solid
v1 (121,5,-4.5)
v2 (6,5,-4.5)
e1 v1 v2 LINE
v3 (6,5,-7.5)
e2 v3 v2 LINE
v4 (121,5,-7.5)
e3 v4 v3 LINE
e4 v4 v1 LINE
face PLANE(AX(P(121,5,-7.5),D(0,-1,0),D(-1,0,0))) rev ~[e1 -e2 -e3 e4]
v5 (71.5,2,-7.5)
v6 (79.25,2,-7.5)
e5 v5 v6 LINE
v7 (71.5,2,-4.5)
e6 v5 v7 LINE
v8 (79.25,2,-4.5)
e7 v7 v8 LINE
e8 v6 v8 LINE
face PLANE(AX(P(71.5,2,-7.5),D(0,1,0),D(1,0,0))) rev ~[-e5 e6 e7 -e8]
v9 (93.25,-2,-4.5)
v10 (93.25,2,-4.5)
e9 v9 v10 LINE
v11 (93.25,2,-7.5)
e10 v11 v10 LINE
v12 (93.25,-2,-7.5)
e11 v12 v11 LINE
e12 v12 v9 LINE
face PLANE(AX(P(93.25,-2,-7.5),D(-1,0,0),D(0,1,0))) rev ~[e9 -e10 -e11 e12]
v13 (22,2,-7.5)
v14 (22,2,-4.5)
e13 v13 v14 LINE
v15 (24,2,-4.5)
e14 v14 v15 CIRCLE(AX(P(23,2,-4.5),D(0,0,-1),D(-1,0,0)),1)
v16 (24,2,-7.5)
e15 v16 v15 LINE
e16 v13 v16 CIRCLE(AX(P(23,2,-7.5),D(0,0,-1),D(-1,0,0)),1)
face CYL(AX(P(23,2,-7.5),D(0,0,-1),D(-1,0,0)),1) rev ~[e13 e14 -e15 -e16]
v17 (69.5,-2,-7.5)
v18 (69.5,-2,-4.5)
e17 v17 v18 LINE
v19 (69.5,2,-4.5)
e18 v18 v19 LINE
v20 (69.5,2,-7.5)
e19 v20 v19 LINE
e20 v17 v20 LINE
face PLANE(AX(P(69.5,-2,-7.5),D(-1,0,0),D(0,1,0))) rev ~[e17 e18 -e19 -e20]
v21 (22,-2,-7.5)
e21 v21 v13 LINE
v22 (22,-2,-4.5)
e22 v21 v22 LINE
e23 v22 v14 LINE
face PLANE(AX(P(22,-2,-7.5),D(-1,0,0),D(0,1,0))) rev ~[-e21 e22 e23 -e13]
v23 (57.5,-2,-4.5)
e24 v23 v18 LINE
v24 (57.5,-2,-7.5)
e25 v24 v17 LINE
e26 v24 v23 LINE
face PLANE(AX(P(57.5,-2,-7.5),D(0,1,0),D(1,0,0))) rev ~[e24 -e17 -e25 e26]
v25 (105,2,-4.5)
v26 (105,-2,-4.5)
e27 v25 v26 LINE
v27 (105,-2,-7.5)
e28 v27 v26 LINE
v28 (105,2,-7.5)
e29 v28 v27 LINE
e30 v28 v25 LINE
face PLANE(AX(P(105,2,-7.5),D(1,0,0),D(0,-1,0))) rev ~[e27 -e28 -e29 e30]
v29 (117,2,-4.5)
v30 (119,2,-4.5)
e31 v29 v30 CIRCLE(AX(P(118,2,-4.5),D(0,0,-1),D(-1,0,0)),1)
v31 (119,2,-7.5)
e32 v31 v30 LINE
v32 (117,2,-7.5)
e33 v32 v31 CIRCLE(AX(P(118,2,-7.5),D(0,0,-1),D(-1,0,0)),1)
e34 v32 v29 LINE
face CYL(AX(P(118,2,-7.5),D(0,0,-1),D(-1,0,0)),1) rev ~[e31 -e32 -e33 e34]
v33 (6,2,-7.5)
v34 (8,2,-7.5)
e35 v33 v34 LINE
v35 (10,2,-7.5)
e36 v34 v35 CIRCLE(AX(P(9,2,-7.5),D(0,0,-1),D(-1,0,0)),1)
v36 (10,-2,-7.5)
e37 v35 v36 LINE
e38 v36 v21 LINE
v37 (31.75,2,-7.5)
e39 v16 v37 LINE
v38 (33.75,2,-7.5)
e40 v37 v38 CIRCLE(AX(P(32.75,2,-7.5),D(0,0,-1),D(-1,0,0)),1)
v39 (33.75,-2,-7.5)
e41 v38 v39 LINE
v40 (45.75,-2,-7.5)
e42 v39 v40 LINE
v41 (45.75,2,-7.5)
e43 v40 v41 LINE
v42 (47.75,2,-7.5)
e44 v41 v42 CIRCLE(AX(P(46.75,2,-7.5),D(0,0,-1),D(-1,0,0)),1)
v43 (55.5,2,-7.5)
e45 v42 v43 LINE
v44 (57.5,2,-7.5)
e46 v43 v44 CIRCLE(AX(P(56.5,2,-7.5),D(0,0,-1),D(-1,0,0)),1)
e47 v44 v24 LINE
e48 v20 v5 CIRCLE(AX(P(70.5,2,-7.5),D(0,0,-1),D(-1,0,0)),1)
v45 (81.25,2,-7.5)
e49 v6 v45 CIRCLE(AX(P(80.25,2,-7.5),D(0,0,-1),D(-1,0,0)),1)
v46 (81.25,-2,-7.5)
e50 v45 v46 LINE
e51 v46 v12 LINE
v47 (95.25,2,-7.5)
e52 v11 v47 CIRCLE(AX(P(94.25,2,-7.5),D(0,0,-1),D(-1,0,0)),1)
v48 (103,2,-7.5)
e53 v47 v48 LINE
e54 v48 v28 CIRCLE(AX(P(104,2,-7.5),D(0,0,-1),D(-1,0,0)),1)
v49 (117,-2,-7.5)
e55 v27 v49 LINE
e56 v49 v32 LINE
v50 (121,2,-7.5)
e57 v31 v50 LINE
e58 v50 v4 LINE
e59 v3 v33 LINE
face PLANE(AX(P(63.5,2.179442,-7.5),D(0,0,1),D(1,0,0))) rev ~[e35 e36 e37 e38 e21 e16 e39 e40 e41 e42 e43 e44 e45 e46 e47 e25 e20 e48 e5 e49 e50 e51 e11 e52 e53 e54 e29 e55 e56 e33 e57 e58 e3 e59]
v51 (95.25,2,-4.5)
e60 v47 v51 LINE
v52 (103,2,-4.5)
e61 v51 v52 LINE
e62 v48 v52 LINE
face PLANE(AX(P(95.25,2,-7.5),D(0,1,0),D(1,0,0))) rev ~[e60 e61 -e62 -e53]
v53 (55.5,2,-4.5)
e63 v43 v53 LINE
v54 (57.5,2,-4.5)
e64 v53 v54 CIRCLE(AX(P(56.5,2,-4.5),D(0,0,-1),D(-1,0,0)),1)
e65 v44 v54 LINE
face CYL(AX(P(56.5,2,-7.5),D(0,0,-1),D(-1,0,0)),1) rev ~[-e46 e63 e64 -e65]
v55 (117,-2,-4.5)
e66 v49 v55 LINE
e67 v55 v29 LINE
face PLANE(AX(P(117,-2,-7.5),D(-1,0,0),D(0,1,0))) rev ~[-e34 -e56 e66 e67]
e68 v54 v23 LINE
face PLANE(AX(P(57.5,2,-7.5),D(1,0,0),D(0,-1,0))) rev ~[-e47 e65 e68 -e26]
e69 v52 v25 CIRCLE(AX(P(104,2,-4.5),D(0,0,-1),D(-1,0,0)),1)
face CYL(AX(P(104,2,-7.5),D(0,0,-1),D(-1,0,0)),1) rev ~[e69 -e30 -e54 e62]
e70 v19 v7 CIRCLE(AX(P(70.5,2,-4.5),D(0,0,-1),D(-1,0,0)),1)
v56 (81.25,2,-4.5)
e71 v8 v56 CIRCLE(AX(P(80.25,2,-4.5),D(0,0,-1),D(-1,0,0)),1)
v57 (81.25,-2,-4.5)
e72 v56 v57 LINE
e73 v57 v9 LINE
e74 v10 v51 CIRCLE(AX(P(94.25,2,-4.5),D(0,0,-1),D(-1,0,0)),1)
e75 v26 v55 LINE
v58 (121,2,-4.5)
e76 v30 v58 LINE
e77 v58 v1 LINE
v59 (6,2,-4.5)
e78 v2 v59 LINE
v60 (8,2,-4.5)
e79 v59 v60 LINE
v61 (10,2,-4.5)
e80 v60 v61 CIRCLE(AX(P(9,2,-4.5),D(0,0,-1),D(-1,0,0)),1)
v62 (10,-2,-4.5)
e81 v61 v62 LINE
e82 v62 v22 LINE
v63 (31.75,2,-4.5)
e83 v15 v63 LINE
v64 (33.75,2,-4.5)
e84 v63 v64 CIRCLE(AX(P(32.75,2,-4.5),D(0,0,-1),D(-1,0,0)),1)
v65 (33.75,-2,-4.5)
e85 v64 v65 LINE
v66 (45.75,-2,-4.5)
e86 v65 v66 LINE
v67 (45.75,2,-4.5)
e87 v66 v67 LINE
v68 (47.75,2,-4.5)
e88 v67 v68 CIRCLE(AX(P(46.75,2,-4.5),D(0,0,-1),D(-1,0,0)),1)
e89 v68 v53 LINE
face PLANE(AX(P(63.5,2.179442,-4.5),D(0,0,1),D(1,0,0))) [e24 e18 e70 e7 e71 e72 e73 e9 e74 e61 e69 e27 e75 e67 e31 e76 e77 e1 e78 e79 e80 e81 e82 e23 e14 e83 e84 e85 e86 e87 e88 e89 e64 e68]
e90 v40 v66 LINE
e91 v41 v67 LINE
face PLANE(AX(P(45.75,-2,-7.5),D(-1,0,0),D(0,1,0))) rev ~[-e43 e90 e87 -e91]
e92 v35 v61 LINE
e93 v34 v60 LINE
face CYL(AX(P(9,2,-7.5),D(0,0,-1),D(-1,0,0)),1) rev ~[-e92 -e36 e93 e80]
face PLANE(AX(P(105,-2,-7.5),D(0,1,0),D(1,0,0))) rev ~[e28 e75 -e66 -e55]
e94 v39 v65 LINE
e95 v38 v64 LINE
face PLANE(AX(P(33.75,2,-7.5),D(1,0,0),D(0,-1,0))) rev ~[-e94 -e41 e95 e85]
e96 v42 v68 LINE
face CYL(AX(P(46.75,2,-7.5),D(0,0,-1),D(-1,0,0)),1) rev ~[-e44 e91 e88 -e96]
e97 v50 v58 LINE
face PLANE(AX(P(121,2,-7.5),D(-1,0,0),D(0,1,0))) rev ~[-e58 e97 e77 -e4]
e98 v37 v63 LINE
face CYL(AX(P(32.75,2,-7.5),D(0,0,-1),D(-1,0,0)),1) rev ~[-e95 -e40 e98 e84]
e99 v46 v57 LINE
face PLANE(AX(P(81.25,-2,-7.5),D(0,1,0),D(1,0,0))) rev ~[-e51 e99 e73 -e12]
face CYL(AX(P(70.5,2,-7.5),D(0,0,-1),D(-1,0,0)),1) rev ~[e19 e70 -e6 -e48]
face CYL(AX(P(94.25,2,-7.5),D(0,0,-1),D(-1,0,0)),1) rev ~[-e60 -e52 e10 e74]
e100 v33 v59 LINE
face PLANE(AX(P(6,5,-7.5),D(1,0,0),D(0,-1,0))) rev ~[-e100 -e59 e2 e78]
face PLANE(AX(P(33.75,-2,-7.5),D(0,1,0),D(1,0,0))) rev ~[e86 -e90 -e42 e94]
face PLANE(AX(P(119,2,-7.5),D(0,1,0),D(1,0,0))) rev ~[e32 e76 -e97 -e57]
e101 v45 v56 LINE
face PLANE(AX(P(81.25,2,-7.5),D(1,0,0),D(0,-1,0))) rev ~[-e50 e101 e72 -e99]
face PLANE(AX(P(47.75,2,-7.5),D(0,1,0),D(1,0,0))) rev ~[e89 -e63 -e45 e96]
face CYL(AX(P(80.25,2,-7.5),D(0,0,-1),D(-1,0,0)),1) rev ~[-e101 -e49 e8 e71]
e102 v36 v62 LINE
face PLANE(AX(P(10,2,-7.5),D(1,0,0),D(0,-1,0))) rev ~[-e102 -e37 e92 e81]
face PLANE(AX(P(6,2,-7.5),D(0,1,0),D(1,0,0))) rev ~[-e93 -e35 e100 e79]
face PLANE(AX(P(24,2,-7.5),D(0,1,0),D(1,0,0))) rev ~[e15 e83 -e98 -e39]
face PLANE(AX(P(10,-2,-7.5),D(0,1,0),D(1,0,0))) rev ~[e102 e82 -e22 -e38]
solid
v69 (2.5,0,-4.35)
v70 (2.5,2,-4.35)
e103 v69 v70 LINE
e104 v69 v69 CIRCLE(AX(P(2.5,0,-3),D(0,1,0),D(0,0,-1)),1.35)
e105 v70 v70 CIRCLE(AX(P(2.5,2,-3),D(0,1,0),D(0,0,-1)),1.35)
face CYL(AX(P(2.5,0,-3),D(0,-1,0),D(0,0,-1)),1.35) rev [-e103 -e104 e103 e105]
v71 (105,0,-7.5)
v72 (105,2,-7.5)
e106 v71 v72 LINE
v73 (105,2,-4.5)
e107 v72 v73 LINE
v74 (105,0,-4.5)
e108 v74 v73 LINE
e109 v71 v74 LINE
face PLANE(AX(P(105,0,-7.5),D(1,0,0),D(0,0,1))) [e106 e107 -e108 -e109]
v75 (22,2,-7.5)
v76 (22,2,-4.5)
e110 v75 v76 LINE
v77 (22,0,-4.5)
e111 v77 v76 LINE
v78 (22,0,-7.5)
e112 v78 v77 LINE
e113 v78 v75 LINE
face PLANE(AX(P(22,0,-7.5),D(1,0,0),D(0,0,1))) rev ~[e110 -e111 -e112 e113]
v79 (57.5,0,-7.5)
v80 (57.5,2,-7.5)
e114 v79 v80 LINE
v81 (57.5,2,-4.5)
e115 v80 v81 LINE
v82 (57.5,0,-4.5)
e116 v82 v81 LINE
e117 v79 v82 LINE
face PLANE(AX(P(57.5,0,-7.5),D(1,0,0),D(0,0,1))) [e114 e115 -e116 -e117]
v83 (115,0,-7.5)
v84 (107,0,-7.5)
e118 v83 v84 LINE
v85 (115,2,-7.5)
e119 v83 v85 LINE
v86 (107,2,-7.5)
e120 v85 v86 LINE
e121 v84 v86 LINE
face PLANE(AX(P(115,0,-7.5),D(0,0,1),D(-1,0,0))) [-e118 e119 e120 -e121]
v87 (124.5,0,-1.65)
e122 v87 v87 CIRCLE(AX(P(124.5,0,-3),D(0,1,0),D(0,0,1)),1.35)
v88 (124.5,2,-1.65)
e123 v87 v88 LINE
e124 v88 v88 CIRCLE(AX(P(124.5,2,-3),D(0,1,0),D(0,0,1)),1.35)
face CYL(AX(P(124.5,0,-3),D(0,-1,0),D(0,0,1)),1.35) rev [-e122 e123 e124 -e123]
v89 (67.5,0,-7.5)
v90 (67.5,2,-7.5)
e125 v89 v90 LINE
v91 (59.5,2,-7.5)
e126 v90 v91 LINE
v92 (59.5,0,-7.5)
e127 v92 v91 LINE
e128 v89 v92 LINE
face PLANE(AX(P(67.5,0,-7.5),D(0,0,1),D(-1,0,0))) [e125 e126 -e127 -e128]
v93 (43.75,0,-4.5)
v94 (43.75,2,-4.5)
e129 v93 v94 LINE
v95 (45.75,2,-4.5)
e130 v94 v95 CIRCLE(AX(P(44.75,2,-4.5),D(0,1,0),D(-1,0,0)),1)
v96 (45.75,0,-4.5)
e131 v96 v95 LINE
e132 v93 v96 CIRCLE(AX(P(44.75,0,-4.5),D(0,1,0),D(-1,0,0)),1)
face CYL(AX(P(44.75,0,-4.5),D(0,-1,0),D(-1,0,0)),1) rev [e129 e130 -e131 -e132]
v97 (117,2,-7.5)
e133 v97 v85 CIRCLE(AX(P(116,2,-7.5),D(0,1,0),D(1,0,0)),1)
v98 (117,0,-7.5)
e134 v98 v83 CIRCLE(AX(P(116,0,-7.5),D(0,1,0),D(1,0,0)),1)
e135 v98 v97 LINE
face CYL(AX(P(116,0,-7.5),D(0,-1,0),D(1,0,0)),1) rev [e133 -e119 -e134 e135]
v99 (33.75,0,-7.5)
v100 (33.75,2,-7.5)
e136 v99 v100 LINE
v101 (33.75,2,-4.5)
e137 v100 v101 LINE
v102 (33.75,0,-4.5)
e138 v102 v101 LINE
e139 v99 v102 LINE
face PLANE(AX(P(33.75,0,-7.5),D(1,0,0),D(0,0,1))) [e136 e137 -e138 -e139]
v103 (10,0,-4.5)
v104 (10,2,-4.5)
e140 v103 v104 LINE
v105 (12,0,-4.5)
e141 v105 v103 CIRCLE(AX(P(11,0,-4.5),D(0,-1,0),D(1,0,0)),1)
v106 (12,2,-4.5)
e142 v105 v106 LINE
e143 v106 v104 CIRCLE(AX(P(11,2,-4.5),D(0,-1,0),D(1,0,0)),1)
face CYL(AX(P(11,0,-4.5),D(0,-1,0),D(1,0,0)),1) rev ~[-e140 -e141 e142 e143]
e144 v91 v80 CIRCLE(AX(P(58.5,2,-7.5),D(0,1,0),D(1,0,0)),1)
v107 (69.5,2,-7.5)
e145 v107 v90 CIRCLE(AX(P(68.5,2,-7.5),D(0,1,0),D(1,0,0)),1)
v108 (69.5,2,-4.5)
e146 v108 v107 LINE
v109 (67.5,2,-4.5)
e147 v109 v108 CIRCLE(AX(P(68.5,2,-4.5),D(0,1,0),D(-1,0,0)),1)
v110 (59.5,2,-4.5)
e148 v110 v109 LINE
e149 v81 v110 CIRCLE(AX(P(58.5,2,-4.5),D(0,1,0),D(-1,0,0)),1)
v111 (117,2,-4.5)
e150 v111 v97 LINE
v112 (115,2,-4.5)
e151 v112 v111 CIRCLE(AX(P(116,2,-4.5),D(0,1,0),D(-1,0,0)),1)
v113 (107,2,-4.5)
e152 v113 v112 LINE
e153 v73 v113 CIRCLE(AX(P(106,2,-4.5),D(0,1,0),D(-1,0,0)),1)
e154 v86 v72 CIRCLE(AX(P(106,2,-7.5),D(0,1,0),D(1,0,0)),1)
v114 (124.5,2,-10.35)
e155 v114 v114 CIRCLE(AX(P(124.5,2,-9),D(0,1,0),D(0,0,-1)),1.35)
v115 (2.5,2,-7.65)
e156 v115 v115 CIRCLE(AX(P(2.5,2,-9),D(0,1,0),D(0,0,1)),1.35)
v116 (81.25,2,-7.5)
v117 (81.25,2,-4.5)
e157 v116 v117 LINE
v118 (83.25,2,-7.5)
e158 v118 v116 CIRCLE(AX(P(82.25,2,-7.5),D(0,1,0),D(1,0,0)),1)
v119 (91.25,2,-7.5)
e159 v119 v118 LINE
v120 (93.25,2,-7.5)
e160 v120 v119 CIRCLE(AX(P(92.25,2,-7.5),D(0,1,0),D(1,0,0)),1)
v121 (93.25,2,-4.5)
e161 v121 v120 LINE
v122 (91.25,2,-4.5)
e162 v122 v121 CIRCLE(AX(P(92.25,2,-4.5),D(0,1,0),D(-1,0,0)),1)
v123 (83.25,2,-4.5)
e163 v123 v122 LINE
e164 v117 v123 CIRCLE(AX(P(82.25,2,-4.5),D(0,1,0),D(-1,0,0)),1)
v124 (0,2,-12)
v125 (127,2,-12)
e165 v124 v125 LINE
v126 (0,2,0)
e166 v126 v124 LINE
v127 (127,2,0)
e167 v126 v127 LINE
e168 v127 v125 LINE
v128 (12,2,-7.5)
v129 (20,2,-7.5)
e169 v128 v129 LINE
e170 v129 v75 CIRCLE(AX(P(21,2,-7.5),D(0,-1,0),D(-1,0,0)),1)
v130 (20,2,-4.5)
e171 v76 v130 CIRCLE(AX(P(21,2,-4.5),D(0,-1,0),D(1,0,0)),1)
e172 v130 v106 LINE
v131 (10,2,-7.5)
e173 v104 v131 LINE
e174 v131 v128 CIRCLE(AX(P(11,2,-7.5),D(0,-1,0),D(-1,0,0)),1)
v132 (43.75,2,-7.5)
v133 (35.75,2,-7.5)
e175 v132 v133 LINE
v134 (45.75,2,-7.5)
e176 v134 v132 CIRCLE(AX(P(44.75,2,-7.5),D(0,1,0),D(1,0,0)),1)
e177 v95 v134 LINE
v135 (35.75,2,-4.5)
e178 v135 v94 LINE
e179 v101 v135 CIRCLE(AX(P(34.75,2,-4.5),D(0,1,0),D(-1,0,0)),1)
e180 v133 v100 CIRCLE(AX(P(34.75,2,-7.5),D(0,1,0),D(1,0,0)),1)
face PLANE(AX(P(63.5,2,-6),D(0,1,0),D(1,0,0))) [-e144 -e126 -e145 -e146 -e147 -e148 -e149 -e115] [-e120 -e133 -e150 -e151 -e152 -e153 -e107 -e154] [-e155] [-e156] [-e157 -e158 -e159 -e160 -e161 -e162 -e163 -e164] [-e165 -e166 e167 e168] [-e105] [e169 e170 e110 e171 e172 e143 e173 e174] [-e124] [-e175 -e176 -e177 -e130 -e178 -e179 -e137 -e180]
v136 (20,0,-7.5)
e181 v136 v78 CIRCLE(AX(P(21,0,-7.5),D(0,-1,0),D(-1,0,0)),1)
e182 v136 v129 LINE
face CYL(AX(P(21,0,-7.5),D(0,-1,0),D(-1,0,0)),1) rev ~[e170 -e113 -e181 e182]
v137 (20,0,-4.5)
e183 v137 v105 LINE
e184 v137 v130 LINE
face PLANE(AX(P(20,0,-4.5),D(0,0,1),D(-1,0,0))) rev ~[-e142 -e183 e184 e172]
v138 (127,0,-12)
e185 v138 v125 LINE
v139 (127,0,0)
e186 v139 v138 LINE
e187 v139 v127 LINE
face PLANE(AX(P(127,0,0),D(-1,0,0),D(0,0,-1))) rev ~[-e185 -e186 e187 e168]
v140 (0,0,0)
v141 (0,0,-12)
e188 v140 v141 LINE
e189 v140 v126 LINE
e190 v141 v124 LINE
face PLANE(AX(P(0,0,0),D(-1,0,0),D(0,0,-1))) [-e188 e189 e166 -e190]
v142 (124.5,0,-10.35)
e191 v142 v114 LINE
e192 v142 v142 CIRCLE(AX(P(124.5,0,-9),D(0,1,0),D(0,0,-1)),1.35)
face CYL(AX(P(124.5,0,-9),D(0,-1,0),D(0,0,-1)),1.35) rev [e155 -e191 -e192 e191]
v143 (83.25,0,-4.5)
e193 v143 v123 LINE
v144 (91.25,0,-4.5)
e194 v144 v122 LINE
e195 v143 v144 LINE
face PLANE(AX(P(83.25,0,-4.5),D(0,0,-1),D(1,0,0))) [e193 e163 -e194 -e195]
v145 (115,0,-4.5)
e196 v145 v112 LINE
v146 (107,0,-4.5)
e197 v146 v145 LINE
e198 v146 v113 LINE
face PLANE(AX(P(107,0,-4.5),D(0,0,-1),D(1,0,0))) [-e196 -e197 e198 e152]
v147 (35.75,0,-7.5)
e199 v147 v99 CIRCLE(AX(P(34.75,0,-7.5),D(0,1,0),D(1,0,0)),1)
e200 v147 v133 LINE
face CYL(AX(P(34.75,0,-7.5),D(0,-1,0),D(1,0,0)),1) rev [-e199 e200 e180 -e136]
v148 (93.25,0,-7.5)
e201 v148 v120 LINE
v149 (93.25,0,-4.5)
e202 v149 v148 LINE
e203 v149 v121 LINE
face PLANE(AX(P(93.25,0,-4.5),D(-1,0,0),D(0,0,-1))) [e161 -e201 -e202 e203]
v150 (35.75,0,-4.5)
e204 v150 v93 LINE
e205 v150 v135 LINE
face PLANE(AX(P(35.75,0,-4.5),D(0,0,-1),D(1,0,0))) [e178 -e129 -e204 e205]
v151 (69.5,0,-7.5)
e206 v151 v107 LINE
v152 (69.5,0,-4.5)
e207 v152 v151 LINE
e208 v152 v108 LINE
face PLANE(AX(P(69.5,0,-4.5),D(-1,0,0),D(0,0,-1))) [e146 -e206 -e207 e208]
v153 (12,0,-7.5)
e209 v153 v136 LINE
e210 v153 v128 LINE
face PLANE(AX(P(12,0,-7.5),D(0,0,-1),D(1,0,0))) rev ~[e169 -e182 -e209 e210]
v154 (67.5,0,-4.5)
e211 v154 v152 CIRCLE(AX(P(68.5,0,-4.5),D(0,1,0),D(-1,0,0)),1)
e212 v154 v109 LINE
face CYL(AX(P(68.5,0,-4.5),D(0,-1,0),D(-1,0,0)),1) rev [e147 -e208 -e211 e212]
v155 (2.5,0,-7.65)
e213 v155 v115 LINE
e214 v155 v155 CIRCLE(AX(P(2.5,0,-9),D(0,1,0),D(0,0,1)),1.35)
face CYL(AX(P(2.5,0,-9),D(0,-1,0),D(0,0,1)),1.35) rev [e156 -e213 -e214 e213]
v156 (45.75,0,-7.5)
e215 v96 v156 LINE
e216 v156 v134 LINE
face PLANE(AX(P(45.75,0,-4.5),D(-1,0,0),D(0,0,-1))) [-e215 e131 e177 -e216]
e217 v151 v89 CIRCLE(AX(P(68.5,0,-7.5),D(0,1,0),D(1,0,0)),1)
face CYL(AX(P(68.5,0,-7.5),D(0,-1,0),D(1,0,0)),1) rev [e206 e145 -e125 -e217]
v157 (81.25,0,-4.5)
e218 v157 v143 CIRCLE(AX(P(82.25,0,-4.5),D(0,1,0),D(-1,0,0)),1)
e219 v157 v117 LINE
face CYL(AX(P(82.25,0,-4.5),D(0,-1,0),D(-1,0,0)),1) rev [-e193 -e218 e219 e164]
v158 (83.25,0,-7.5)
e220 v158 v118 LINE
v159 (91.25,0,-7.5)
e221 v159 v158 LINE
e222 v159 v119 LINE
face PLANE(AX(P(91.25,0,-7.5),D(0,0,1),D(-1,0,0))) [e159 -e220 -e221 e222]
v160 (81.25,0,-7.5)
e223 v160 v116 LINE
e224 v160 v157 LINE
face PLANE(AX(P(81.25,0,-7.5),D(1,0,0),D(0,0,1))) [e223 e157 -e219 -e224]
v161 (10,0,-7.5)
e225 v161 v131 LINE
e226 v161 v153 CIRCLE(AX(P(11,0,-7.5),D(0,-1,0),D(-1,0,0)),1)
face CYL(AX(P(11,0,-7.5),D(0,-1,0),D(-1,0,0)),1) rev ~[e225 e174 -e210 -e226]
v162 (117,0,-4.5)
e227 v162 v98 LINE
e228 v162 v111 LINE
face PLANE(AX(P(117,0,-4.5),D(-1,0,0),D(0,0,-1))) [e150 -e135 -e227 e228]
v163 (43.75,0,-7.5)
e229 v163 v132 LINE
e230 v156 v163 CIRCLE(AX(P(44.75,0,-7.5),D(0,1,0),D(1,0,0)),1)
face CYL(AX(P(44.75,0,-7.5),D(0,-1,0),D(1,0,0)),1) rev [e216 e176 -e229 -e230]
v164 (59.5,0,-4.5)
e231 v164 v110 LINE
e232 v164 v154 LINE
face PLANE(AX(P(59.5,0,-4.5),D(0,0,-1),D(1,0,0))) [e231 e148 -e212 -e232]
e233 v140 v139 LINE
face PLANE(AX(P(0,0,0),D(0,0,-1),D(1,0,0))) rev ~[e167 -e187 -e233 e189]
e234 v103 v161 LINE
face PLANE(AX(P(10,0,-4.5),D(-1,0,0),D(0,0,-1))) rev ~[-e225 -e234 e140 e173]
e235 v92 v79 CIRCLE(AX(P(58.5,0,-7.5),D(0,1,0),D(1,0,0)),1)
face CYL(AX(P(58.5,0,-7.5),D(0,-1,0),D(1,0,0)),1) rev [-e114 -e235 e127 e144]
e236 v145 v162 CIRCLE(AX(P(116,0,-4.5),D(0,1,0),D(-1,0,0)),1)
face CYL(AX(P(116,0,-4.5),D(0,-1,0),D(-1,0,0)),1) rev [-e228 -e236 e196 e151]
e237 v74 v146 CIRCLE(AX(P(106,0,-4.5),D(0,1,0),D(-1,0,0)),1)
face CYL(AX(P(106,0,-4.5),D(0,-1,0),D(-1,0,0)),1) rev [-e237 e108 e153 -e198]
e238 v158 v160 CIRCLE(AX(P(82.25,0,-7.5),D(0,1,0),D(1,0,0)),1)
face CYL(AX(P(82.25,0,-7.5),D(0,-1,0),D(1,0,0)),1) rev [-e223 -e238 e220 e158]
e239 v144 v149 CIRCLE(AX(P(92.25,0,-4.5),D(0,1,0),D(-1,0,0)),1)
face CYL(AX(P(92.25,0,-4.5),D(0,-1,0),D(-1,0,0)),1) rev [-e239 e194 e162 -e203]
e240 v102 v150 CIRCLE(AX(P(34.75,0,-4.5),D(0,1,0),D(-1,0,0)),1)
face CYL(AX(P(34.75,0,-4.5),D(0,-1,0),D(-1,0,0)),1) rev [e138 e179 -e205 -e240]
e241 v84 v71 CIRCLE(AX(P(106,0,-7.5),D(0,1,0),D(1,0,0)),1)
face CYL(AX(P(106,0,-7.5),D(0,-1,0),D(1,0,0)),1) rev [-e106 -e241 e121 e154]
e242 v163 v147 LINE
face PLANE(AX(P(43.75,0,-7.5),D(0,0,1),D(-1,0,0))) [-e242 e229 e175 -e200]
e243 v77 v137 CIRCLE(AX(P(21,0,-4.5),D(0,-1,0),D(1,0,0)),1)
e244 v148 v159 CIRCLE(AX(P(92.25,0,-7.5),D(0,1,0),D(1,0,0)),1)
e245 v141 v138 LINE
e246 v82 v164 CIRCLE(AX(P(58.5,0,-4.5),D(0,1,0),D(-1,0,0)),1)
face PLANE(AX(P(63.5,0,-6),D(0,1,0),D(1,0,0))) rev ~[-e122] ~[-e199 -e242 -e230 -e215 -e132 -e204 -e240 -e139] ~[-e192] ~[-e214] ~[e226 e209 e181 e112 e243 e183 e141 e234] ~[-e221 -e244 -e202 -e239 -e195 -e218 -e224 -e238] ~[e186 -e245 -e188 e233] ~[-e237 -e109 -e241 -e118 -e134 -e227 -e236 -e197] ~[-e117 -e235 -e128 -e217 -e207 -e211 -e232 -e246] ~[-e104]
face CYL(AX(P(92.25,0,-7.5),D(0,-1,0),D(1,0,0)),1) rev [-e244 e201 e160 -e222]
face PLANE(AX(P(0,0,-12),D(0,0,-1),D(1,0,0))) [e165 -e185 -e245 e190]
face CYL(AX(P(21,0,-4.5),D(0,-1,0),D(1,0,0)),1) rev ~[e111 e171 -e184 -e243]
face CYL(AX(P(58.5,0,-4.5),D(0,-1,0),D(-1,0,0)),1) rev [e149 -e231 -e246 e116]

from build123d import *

# Parameters (mm, degrees)
SKETCH_1_W      = 127
SKETCH_1_H      = 12
SKETCH_1_R      = 1.35
EXTRUDE_1_DEPTH = 2
EXTRUDE_2_DEPTH = 3


with BuildPart() as part:
    # 草图1 → 凸台-拉伸1 (new body)
    with BuildSketch(Plane(origin=(0, 0, 0), x_dir=(1, 0, 0), z_dir=(0, 1, 0))):
        with Locations((63.5, 6)):
            Rectangle(SKETCH_1_W, SKETCH_1_H)
        with Locations(Location((2.5, 9, 0), (0, 0, 270))):
            Circle(SKETCH_1_R, mode=Mode.SUBTRACT)
        with Locations(Location((2.5, 3, 0), (0, 0, 90))):
            Circle(SKETCH_1_R, mode=Mode.SUBTRACT)
        with Locations(Location((124.5, 3, 0), (0, 0, 270))):
            Circle(SKETCH_1_R, mode=Mode.SUBTRACT)
        with Locations(Location((124.5, 9, 0), (0, 0, 90))):
            Circle(SKETCH_1_R, mode=Mode.SUBTRACT)
        with BuildLine():
            Line((12, 7.5), (20, 7.5))
            ThreePointArc((20, 7.5), (21, 8.5), (22, 7.5))
            Line((22, 7.5), (22, 4.5))
            ThreePointArc((22, 4.5), (21, 3.5), (20, 4.5))
            Line((20, 4.5), (12, 4.5))
            ThreePointArc((12, 4.5), (11, 3.5), (10, 4.5))
            Line((10, 4.5), (10, 7.5))
            ThreePointArc((10, 7.5), (11, 8.5), (12, 7.5))
        make_face(mode=Mode.SUBTRACT)
        with BuildLine():
            Line((35.75, 4.5), (43.75, 4.5))
            ThreePointArc((43.75, 4.5), (44.75, 3.5), (45.75, 4.5))
            Line((45.75, 4.5), (45.75, 7.5))
            ThreePointArc((45.75, 7.5), (44.75, 8.5), (43.75, 7.5))
            Line((43.75, 7.5), (35.75, 7.5))
            ThreePointArc((35.75, 7.5), (34.75, 8.5), (33.75, 7.5))
            Line((33.75, 7.5), (33.75, 4.5))
            ThreePointArc((33.75, 4.5), (34.75, 3.5), (35.75, 4.5))
        make_face(mode=Mode.SUBTRACT)
        with BuildLine():
            Line((59.5, 4.5), (67.5, 4.5))
            ThreePointArc((67.5, 4.5), (68.5, 3.5), (69.5, 4.5))
            Line((69.5, 4.5), (69.5, 7.5))
            ThreePointArc((69.5, 7.5), (68.5, 8.5), (67.5, 7.5))
            Line((67.5, 7.5), (59.5, 7.5))
            ThreePointArc((59.5, 7.5), (58.5, 8.5), (57.5, 7.5))
            Line((57.5, 7.5), (57.5, 4.5))
            ThreePointArc((57.5, 4.5), (58.5, 3.5), (59.5, 4.5))
        make_face(mode=Mode.SUBTRACT)
        with BuildLine():
            Line((83.25, 4.5), (91.25, 4.5))
            ThreePointArc((91.25, 4.5), (92.25, 3.5), (93.25, 4.5))
            Line((93.25, 4.5), (93.25, 7.5))
            ThreePointArc((93.25, 7.5), (92.25, 8.5), (91.25, 7.5))
            Line((91.25, 7.5), (83.25, 7.5))
            ThreePointArc((83.25, 7.5), (82.25, 8.5), (81.25, 7.5))
            Line((81.25, 7.5), (81.25, 4.5))
            ThreePointArc((81.25, 4.5), (82.25, 3.5), (83.25, 4.5))
        make_face(mode=Mode.SUBTRACT)
        with BuildLine():
            Line((107, 4.5), (115, 4.5))
            ThreePointArc((115, 4.5), (116, 3.5), (117, 4.5))
            Line((117, 4.5), (117, 7.5))
            ThreePointArc((117, 7.5), (116, 8.5), (115, 7.5))
            Line((115, 7.5), (107, 7.5))
            ThreePointArc((107, 7.5), (106, 8.5), (105, 7.5))
            Line((105, 7.5), (105, 4.5))
            ThreePointArc((105, 4.5), (106, 3.5), (107, 4.5))
        make_face(mode=Mode.SUBTRACT)
    extrude(amount=EXTRUDE_1_DEPTH)


with BuildPart() as body_2:
    # 草图2 → 凸台-拉伸2 (new body)
    with BuildSketch(Plane.XY.offset(-7.5)):
        with BuildLine():
            Line((22, 0), (22, 2))
            ThreePointArc((22, 2), (23, 3), (24, 2))
            Line((24, 2), (31.75, 2))
            ThreePointArc((31.75, 2), (32.75, 3), (33.75, 2))
            Line((33.75, 2), (33.75, 0))
            Line((33.75, 0), (33.75, -2))
            Line((33.75, -2), (45.75, -2))
            Line((45.75, -2), (45.75, 0))
            Line((45.75, 0), (45.75, 2))
            ThreePointArc((45.75, 2), (46.75, 3), (47.75, 2))
            Line((47.75, 2), (55.5, 2))
            ThreePointArc((55.5, 2), (56.5, 3), (57.5, 2))
            Line((57.5, 2), (57.5, 0))
            Line((57.5, 0), (57.5, -2))
            Line((57.5, -2), (69.5, -2))
            Line((69.5, -2), (69.5, 0))
            Line((69.5, 0), (69.5, 2))
            ThreePointArc((69.5, 2), (70.5, 3), (71.5, 2))
            Line((71.5, 2), (79.25, 2))
            ThreePointArc((79.25, 2), (80.25, 3), (81.25, 2))
            Line((81.25, 2), (81.25, 0))
            Line((81.25, 0), (81.25, -2))
            Line((81.25, -2), (93.25, -2))
            Line((93.25, -2), (93.25, 0))
            Line((93.25, 0), (93.25, 2))
            ThreePointArc((93.25, 2), (94.25, 3), (95.25, 2))
            Line((95.25, 2), (103, 2))
            ThreePointArc((103, 2), (104, 3), (105, 2))
            Line((105, 2), (105, 0))
            Line((105, 0), (105, -2))
            Line((105, -2), (117, -2))
            Line((117, -2), (117, 0))
            Line((117, 0), (117, 2))
            ThreePointArc((117, 2), (118, 3), (119, 2))
            Line((119, 2), (121, 2))
            Line((121, 2), (121, 5))
            Line((121, 5), (6, 5))
            Line((6, 5), (6, 2))
            Line((6, 2), (8, 2))
            ThreePointArc((8, 2), (9, 3), (10, 2))
            Line((10, 2), (10, 0))
            Line((10, 0), (10, -2))
            Line((10, -2), (22, -2))
            Line((22, -2), (22, 0))
        make_face()
    extrude(amount=EXTRUDE_2_DEPTH)


solid = Compound([part.part, body_2.part])
